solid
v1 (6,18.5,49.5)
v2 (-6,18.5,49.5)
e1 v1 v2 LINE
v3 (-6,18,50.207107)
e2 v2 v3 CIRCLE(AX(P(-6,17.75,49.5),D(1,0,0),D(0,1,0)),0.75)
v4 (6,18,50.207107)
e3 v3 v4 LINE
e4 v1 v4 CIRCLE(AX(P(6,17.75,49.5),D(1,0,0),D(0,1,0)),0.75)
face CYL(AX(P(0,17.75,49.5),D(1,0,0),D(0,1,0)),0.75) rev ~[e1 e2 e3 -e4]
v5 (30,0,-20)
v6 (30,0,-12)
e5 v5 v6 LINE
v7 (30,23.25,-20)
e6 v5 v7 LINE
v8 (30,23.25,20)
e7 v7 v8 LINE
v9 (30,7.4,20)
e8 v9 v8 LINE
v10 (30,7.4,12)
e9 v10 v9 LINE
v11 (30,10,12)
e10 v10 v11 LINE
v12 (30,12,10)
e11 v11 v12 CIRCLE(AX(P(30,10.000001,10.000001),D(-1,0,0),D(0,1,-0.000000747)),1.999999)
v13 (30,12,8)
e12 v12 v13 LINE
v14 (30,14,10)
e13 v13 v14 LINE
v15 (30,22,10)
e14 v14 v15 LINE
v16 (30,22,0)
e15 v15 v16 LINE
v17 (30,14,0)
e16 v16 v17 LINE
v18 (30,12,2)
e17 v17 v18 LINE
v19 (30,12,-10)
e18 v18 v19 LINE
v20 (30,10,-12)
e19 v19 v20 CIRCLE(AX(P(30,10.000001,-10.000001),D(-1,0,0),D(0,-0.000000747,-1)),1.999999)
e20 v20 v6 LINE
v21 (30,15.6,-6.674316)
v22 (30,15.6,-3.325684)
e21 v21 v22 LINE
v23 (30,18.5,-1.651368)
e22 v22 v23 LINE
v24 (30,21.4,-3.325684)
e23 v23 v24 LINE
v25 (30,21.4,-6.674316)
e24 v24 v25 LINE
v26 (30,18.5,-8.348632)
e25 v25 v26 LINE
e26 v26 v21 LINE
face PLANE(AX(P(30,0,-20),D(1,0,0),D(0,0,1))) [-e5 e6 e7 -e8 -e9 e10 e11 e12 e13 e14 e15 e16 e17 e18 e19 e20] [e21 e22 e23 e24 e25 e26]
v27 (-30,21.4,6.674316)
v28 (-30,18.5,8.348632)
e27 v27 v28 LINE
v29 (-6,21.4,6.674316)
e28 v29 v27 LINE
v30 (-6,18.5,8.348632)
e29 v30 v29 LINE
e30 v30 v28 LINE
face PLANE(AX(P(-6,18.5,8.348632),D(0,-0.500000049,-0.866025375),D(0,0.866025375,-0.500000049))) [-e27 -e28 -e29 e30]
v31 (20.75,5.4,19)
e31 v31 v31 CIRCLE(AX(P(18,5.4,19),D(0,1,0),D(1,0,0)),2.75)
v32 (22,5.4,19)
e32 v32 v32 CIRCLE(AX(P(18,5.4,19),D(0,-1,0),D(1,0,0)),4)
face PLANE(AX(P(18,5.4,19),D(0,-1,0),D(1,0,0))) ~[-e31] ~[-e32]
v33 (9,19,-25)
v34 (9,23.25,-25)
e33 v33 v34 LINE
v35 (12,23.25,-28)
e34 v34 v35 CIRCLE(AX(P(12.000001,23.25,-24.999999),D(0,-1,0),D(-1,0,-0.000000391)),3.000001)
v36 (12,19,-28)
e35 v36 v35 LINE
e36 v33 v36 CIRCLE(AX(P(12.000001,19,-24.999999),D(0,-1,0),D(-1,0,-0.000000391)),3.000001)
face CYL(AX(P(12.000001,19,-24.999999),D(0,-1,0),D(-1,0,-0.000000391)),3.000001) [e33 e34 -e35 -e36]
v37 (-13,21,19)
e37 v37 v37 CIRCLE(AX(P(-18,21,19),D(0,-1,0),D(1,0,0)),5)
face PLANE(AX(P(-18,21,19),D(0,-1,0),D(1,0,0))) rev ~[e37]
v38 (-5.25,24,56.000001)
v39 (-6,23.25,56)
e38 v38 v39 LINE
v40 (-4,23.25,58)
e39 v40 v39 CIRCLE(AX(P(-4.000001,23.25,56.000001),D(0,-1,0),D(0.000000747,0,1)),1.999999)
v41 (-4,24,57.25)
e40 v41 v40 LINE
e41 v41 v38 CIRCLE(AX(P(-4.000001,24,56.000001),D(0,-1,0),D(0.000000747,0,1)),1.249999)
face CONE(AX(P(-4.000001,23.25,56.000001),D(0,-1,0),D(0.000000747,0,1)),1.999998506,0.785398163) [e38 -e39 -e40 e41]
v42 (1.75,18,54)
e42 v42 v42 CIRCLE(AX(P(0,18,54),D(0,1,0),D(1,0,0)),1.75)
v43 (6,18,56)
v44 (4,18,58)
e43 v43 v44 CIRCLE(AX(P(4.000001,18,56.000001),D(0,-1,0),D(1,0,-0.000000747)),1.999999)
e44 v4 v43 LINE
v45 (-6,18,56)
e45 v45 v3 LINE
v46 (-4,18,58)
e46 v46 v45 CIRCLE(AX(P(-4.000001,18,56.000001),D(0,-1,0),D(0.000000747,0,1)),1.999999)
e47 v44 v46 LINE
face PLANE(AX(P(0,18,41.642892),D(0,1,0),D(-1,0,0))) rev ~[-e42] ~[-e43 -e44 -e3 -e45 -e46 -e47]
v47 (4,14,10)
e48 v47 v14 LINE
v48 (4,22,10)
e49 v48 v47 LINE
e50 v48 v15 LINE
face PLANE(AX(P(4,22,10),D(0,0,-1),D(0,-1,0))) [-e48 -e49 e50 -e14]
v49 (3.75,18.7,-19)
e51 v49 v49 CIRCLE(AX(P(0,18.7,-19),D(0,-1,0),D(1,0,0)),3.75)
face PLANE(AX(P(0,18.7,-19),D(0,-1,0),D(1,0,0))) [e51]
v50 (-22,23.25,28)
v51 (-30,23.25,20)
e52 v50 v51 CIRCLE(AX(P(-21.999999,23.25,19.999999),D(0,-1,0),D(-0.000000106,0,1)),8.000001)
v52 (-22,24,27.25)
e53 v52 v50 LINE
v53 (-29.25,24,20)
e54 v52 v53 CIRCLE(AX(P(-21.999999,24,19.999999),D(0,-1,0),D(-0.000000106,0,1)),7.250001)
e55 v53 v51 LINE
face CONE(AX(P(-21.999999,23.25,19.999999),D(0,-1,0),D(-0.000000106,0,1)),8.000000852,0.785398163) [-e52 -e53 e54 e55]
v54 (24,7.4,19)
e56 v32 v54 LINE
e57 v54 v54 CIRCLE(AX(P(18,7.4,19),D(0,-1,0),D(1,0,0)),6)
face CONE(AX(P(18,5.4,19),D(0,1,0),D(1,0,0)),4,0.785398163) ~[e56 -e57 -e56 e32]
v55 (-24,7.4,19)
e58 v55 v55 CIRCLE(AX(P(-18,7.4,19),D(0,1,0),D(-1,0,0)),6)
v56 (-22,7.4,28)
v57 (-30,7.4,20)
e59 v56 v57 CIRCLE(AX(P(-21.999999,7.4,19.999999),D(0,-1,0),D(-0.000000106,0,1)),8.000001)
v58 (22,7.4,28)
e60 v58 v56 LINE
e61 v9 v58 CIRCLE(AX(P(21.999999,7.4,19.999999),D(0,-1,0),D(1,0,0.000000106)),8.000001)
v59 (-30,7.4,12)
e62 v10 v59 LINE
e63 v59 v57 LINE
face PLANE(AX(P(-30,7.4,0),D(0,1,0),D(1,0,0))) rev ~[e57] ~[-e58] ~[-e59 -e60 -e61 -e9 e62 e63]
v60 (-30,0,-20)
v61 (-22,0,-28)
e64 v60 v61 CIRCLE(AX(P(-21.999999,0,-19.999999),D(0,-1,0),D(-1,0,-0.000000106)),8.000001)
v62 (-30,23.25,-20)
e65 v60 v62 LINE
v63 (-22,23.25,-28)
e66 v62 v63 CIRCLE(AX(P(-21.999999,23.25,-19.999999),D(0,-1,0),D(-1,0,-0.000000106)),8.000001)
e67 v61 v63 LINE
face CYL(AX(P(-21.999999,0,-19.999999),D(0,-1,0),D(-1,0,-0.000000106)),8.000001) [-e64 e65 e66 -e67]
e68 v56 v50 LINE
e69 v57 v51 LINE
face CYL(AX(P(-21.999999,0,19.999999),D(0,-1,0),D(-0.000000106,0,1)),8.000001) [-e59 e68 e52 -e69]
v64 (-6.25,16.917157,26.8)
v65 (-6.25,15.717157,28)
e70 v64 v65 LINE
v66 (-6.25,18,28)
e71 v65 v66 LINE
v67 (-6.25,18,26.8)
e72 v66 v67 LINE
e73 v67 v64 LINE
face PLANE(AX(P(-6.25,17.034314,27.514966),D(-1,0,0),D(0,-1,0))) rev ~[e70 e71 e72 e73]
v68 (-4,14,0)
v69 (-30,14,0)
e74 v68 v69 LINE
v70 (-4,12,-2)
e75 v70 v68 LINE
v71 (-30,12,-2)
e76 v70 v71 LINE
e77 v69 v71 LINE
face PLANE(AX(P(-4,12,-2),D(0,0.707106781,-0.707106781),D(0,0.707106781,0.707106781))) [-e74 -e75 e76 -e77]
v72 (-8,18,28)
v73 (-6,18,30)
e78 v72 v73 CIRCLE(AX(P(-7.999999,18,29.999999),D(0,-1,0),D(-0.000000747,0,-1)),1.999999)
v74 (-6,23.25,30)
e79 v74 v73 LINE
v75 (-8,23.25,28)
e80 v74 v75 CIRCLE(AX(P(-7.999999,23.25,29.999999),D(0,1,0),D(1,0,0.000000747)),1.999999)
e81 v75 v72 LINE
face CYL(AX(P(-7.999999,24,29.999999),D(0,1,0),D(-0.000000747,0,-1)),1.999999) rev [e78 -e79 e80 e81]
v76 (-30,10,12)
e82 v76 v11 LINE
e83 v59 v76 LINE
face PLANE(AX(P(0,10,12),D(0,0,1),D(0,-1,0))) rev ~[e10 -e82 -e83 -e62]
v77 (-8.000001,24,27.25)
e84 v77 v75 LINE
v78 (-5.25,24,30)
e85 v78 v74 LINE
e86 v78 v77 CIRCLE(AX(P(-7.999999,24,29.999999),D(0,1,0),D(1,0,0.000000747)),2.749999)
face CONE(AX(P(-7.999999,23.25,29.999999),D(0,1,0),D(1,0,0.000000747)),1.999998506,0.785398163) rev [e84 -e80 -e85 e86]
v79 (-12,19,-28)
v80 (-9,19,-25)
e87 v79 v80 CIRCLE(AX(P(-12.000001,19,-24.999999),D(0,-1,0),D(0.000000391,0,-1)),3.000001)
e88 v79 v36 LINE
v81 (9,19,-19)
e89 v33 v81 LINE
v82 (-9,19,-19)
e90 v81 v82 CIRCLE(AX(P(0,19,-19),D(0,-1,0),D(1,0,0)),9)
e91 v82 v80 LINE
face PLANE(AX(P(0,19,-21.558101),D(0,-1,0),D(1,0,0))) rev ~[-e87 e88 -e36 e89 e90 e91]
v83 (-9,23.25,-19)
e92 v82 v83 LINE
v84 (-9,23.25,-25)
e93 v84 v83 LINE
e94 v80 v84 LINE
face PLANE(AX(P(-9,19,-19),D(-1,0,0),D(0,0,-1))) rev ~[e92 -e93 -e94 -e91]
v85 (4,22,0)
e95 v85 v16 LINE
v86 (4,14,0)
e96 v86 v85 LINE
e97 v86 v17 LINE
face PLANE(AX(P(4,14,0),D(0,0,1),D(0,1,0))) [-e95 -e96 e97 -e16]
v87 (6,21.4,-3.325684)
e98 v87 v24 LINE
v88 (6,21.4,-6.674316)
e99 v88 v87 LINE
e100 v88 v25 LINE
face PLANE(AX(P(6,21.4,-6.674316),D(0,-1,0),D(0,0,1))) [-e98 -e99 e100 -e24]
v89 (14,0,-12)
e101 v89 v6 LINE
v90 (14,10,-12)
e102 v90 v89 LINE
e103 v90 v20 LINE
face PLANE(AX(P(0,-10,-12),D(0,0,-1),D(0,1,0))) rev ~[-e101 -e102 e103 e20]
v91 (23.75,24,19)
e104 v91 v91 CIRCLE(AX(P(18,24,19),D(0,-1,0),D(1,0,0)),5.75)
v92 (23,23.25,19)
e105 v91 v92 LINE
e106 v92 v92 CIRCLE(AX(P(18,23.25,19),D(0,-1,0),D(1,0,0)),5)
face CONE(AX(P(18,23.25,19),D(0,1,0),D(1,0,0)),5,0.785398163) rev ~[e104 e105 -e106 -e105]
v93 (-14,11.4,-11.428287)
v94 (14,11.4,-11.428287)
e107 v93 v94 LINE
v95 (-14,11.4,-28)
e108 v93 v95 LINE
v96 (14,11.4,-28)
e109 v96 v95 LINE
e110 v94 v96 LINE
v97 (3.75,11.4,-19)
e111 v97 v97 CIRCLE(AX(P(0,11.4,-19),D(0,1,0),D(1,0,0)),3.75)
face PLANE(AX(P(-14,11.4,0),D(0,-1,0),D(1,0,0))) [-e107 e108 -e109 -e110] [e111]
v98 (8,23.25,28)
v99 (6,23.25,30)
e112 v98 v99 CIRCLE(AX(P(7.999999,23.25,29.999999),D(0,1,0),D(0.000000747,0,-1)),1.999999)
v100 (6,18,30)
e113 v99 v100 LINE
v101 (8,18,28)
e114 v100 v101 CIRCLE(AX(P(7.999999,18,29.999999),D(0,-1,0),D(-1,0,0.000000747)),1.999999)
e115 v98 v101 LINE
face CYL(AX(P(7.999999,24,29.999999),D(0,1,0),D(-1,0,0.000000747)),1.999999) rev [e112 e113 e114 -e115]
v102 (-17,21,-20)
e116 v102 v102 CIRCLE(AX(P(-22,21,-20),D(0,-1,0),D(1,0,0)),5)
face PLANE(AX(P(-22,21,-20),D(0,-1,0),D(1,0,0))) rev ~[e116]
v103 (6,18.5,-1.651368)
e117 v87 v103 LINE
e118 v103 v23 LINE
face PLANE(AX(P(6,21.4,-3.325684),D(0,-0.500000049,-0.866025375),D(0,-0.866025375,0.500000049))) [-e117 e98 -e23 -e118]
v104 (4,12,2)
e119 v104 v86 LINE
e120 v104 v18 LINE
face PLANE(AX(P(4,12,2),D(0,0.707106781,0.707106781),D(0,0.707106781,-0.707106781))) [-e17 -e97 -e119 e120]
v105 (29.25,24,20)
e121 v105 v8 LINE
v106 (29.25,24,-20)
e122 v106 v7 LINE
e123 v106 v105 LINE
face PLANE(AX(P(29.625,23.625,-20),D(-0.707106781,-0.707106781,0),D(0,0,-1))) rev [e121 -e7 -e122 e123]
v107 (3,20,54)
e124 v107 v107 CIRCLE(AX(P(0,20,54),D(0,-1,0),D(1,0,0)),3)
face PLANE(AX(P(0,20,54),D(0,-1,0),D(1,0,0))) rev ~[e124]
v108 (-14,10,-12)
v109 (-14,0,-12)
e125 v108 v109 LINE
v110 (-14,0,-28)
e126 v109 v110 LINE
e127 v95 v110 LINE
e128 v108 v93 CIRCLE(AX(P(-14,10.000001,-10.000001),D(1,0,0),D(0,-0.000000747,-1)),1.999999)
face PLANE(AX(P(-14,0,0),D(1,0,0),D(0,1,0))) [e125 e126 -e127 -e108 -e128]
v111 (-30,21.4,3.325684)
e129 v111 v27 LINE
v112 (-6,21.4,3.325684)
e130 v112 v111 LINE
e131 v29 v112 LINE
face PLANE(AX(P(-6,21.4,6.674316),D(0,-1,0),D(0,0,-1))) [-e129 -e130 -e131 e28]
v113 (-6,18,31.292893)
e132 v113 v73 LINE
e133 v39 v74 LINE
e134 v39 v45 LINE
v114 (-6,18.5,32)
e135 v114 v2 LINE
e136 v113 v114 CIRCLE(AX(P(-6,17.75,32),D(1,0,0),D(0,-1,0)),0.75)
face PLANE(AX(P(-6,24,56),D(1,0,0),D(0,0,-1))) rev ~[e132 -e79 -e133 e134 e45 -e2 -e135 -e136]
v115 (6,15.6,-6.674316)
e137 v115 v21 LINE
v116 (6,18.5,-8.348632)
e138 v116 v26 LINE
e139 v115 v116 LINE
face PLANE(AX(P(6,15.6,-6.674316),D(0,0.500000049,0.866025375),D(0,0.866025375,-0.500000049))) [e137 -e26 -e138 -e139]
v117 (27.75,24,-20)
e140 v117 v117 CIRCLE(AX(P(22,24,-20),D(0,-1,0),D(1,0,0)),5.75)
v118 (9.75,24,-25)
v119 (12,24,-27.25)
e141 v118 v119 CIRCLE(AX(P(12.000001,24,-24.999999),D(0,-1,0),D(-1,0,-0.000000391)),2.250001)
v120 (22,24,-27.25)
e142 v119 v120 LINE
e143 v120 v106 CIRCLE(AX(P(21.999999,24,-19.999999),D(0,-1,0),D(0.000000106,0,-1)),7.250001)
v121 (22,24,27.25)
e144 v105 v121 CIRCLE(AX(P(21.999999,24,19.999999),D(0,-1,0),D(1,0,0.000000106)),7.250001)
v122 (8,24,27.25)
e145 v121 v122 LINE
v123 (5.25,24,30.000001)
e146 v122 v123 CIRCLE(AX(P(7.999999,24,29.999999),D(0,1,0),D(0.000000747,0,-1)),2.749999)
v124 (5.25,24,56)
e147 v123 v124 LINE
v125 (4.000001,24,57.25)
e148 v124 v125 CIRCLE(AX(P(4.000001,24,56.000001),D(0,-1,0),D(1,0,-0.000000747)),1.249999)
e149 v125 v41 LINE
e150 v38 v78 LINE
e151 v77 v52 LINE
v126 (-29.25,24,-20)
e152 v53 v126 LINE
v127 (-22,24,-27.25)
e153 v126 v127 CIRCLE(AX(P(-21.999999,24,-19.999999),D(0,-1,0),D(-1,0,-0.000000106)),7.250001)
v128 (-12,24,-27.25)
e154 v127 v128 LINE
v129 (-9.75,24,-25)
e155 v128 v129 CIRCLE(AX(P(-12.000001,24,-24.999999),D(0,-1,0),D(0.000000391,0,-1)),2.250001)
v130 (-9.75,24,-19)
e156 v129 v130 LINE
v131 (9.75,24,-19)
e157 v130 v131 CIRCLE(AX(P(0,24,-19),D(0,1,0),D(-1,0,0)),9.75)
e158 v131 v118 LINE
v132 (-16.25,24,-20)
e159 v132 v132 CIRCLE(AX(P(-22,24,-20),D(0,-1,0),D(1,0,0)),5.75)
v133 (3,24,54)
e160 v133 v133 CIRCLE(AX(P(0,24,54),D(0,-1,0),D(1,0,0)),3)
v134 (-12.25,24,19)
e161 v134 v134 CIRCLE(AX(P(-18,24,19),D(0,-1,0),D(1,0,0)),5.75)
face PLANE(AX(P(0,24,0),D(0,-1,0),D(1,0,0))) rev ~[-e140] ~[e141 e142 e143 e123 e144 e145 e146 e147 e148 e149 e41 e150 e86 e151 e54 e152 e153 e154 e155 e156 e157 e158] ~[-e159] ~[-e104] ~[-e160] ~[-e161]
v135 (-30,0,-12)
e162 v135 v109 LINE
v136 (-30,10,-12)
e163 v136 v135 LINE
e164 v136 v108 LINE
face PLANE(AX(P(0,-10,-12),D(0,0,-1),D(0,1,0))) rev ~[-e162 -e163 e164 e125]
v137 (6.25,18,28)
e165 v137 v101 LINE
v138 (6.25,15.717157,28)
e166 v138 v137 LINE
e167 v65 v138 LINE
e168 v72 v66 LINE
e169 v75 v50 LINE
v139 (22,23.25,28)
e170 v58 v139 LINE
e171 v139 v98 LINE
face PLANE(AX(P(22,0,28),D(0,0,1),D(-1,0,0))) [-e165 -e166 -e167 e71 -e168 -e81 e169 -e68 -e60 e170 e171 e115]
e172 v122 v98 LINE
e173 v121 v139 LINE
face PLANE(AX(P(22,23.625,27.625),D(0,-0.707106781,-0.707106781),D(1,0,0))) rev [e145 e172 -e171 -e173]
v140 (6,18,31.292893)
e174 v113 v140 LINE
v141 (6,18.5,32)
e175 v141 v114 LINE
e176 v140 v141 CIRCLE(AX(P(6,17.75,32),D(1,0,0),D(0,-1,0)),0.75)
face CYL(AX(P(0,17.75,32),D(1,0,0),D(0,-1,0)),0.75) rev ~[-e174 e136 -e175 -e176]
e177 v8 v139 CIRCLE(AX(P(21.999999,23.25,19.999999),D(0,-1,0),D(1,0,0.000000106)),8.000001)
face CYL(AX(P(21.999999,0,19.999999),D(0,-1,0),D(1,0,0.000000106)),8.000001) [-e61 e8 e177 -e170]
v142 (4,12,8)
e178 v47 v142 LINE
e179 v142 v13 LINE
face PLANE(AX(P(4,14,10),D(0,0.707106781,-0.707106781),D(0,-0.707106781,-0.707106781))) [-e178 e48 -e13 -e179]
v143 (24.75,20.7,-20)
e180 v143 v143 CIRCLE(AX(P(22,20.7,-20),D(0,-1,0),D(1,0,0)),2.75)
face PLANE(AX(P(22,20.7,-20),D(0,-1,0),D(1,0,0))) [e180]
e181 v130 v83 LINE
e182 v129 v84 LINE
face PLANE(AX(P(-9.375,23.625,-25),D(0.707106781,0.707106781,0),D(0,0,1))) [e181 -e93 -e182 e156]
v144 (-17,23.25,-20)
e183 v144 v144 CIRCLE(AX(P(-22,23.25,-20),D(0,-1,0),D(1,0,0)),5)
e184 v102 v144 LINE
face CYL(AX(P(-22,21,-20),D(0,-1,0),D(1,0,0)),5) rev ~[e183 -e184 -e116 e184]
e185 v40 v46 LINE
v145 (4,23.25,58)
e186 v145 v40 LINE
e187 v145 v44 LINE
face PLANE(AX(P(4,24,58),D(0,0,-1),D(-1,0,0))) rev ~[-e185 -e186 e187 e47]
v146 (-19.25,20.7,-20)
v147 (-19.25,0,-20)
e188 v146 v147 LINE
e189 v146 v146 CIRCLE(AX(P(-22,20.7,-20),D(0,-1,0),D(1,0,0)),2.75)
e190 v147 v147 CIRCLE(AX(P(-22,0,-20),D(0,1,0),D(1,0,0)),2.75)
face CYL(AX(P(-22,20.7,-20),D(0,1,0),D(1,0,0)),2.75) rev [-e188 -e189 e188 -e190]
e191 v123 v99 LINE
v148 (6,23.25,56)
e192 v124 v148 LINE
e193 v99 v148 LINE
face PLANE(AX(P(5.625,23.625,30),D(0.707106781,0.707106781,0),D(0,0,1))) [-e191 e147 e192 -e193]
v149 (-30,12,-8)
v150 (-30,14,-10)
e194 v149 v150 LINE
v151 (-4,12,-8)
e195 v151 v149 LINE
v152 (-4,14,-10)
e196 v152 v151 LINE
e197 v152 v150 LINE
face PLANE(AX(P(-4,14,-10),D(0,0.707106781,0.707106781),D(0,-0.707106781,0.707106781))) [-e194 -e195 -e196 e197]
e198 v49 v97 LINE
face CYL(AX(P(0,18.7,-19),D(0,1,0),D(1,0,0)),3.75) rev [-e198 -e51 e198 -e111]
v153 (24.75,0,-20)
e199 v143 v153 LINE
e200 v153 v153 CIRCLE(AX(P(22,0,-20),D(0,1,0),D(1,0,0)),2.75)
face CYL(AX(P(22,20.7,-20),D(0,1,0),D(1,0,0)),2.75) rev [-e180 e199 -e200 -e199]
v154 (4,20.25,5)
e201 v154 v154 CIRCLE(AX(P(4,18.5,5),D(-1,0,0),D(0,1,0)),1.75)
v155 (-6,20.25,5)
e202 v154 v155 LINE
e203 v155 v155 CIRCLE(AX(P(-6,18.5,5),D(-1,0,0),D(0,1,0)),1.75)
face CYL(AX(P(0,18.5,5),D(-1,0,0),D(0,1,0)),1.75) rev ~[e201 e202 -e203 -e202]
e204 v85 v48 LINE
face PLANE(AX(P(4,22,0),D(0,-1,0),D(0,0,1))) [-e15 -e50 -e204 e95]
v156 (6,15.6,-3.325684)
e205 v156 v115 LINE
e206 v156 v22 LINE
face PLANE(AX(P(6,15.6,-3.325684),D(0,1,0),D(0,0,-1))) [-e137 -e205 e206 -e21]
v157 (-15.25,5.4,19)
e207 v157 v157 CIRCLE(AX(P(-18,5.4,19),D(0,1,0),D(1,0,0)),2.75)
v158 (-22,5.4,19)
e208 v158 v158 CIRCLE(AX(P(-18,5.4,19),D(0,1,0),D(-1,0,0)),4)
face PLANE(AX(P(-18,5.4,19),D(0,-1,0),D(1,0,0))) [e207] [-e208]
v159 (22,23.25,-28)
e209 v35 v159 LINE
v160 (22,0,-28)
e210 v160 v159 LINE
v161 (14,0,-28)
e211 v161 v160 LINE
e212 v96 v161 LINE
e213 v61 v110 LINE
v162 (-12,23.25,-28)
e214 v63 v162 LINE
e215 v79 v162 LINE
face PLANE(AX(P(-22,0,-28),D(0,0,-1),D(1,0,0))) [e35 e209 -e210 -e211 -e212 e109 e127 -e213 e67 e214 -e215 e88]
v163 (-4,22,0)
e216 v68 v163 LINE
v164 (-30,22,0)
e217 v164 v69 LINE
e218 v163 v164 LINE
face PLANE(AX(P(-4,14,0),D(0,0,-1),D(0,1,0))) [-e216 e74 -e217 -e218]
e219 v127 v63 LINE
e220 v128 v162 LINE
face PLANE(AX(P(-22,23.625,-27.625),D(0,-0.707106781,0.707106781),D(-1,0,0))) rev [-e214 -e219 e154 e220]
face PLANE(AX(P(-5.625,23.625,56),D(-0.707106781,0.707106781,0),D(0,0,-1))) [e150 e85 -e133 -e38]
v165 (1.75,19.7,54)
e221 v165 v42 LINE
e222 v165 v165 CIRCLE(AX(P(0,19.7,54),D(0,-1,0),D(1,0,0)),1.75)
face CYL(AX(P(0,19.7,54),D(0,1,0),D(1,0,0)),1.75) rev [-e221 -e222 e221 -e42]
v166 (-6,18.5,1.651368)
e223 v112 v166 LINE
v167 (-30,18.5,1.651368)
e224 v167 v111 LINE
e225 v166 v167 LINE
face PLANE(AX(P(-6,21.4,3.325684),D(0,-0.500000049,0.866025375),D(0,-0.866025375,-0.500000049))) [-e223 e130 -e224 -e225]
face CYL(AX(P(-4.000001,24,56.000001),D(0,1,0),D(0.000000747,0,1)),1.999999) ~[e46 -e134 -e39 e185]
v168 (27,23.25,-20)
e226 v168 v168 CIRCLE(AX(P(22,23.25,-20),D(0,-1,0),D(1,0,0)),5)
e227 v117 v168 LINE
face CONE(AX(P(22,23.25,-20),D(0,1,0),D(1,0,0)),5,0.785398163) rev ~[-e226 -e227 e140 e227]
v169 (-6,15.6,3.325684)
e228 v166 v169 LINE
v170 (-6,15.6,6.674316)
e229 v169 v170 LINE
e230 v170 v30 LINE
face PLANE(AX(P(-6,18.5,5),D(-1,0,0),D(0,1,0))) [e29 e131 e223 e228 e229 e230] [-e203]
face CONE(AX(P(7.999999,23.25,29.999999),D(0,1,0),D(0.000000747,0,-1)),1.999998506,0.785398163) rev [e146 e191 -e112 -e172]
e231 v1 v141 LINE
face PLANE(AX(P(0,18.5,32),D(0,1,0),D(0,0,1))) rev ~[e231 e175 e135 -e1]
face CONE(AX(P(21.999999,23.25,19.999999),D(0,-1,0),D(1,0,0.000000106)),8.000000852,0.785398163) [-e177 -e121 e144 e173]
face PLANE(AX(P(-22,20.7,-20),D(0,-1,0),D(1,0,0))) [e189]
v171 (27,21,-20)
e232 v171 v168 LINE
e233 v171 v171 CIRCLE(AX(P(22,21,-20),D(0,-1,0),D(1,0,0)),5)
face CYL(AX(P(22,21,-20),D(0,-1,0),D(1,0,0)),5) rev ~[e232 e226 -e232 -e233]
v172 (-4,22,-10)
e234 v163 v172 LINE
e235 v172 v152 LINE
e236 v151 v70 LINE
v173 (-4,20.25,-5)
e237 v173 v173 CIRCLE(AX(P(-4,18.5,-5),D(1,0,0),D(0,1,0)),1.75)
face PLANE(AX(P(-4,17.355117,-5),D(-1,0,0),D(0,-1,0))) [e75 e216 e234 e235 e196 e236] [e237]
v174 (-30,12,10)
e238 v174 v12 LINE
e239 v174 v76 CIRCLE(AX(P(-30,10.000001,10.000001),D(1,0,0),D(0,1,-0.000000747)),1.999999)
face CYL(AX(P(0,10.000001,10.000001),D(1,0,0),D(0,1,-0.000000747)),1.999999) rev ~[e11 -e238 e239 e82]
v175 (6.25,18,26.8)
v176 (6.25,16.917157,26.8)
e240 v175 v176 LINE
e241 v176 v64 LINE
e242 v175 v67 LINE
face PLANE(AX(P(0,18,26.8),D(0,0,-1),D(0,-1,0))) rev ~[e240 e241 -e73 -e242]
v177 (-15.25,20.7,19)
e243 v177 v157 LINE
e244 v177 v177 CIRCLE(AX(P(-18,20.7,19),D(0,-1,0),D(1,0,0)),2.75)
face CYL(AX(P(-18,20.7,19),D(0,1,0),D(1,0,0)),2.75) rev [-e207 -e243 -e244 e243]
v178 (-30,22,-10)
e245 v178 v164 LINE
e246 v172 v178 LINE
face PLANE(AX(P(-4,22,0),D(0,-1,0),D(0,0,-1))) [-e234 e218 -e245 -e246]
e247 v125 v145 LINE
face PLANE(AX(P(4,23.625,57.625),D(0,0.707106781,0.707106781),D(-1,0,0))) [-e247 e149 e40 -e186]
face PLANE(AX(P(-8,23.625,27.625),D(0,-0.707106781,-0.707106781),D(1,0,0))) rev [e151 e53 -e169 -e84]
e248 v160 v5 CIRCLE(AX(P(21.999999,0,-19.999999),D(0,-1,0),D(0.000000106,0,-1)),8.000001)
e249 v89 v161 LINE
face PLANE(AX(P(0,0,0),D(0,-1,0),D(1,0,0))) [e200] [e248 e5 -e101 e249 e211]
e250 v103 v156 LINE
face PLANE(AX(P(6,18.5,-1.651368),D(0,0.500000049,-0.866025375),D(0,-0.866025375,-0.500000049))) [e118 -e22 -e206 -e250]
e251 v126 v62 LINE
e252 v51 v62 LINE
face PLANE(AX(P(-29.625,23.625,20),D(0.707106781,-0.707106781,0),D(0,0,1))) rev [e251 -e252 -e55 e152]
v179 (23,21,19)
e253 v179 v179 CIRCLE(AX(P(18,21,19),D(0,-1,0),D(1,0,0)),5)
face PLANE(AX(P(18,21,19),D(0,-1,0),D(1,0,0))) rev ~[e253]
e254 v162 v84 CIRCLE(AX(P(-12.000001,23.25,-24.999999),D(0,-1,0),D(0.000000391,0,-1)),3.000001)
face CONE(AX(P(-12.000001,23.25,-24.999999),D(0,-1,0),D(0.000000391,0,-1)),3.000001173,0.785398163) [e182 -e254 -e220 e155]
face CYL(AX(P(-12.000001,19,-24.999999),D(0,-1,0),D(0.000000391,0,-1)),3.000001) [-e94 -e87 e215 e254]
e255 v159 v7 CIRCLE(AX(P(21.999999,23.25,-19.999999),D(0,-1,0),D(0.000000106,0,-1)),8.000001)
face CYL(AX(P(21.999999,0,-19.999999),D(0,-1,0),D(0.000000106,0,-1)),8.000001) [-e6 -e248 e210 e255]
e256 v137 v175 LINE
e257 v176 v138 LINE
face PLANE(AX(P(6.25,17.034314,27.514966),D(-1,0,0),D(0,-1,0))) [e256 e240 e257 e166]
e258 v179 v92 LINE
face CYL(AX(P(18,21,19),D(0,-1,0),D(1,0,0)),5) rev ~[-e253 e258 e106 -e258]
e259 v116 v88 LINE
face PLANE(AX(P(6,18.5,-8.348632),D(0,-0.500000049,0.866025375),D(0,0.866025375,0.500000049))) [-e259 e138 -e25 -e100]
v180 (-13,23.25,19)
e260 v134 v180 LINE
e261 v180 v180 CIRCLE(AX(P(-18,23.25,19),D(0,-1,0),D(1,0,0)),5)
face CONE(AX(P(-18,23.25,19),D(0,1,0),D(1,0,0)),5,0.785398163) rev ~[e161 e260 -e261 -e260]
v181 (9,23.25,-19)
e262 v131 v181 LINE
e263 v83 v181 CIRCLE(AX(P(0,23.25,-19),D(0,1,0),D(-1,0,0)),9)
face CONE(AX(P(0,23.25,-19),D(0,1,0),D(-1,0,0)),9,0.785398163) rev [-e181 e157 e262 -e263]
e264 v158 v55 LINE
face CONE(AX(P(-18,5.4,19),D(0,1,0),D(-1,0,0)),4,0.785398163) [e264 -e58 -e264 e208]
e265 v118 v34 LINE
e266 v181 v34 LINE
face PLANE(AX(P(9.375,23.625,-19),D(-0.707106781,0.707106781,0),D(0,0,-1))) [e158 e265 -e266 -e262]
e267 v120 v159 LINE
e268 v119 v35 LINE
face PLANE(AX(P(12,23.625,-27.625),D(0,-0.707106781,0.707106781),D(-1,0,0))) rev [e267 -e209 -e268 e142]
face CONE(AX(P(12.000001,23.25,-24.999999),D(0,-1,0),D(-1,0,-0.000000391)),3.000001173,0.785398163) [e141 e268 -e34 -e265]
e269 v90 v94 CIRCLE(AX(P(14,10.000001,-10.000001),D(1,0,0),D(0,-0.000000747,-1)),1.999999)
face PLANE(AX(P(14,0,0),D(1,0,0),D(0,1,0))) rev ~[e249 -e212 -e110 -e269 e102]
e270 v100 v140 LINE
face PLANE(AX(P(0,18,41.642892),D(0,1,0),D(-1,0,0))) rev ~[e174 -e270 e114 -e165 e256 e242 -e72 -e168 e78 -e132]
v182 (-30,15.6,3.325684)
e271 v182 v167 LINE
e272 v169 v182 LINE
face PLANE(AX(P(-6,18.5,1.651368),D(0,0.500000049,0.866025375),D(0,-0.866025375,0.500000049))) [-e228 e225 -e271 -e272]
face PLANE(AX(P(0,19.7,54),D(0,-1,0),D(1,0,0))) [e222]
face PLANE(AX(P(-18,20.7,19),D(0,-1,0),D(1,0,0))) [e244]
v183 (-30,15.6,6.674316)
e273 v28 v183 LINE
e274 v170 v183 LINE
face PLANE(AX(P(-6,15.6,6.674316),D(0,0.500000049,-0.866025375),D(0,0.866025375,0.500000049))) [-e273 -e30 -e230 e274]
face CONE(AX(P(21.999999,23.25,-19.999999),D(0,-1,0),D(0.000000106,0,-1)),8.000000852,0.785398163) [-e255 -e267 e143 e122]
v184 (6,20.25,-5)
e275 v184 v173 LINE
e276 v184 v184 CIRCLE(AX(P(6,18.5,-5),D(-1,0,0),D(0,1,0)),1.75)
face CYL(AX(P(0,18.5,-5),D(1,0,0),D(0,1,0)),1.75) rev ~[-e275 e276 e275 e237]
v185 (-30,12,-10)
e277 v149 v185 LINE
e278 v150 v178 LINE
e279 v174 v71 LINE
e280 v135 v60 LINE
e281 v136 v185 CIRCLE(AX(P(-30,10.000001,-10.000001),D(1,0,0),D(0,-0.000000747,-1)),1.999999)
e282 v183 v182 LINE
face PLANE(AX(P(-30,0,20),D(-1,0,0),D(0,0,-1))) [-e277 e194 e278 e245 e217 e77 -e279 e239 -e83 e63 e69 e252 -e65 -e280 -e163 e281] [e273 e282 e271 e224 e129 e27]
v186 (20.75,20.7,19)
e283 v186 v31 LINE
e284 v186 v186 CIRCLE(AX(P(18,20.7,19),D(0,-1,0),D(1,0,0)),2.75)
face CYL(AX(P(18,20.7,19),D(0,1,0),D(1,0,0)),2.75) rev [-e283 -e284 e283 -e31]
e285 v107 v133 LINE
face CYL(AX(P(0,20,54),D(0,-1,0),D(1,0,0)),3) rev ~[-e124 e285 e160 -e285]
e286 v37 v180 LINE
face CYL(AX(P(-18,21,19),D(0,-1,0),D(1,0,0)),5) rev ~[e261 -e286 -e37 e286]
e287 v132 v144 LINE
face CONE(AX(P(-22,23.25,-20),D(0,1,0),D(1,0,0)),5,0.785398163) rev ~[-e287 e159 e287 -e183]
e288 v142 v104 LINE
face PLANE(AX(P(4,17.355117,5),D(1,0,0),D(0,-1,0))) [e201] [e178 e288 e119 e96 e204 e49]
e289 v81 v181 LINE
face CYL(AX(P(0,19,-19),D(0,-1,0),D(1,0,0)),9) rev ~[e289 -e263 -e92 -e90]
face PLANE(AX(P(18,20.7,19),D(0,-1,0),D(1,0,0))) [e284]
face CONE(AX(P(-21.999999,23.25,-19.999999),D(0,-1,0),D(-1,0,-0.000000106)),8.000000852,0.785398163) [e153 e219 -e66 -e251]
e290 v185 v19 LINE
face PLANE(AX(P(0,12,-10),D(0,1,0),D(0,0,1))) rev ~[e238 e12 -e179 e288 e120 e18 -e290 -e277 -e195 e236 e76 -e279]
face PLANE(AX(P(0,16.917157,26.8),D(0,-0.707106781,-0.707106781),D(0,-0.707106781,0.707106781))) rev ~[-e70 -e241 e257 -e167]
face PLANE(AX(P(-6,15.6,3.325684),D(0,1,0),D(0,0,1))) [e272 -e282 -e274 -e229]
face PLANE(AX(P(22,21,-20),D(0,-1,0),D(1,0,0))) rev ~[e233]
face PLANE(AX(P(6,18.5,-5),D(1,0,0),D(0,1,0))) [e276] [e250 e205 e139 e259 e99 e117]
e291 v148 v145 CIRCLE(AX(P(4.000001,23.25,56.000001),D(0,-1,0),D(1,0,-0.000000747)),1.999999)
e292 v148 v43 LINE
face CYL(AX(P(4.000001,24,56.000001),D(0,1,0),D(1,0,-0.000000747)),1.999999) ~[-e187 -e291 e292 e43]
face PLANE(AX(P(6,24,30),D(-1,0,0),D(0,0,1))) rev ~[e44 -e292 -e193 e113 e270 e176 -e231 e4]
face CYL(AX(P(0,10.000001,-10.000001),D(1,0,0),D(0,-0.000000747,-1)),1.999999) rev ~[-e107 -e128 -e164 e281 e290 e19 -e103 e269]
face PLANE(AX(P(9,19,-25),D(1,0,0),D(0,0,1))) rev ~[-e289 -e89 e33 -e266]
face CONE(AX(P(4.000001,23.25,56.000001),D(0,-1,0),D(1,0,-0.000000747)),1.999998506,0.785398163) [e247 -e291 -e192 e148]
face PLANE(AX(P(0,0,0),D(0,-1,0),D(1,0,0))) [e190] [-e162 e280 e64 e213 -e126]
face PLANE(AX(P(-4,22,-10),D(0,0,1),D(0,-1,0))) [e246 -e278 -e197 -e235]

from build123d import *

# Parameters (mm, degrees)
PAD025_DEPTH          = 24
POCKET273_DEPTH       = 30.001
POCKET273_DEPTH_BACK  = 30.001
SKETCH402_W           = 28
SKETCH402_H           = 11.4
POCKET274_DEPTH       = 28.001
SKETCH404_W           = 60
SKETCH404_H           = 7.4
POCKET275_DEPTH       = 28.001
SKETCH405_R           = 2.75
POCKET276_DEPTH       = 20.701
SKETCH406_R           = 5
POCKET277_DEPTH       = 3.001
POCKET278_DEPTH       = 5.001
SKETCH408_R           = 3.75
POCKET279_DEPTH       = 18.701
POCKET280_DEPTH       = 197.021467
SKETCH410_R           = 1.75
POCKET281_DEPTH       = 201.021467
POCKET281_DEPTH_BACK  = 201.021467
POCKET282_DEPTH       = 195.021467
POLARPATTERN003_COUNT = 2
PAD026_DEPTH          = 6
POCKET283_DEPTH       = 6.25
SKETCH414_R           = 1.75
POCKET284_DEPTH       = 19.701
SKETCH415_R           = 3
POCKET285_DEPTH       = 4.001
CHAMFER024_SIZE       = 0.75


with BuildPart() as part:
    # Sketch400 → Pad025 (new body)
    with BuildSketch(Plane.XZ):
        with BuildLine():
            Line((-30, 20), (-30, -20))
            ThreePointArc((-30, -20), (-27.656854, -25.656854), (-22, -28))
            Line((-22, -28), (22, -28))
            ThreePointArc((22, -28), (27.656854, -25.656854), (30, -20))
            Line((30, -20), (30, 20))
            ThreePointArc((30, 20), (27.656854, 25.656854), (22, 28))
            Line((22, 28), (-22, 28))
            ThreePointArc((-22, 28), (-27.656854, 25.656854), (-30, 20))
        make_face()
    extrude(amount=-PAD025_DEPTH)

    # Sketch401 → Pocket273 (cut, two sides)
    with BuildSketch(Plane.YZ) as pocket273_sk:
        with BuildLine():
            Line((-12, 10), (-12, -10))
            ThreePointArc((-12, -10), (-11.414214, -11.414214), (-10, -12))
            Line((-10, -12), (10, -12))
            ThreePointArc((10, -12), (11.414214, -11.414214), (12, -10))
            Line((12, -10), (12, 10))
            ThreePointArc((12, 10), (11.414214, 11.414214), (10, 12))
            Line((10, 12), (-10, 12))
            ThreePointArc((-10, 12), (-11.414214, 11.414214), (-12, 10))
        make_face()
    extrude(amount=-POCKET273_DEPTH, mode=Mode.SUBTRACT)
    extrude(pocket273_sk.sketch, amount=POCKET273_DEPTH_BACK, mode=Mode.SUBTRACT)

    # Sketch402 → Pocket274 (cut, through all)
    with BuildSketch(Plane.XY):
        with Locations((0, 5.7)):
            Rectangle(SKETCH402_W, SKETCH402_H)
    extrude(amount=-POCKET274_DEPTH, mode=Mode.SUBTRACT)

    # Sketch404 → Pocket275 (cut, through all)
    with BuildSketch(Plane.XY):
        with Locations((0, 3.7)):
            Rectangle(SKETCH404_W, SKETCH404_H)
    extrude(amount=POCKET275_DEPTH, mode=Mode.SUBTRACT)

    # Sketch403 → Revolution012 (revolve)
    with BuildSketch(Plane.XY.offset(19)):
        Polygon((18, 7.4), (18, 5.4), (22, 5.4), (24, 7.4), align=None)
    revolution012 = revolve(axis=Axis((18, 7.4, 19), (0, -1, 0)))

    # Mirrored020: Revolution012 across YZ
    add(revolution012.mirror(Plane.YZ))

    # Sketch405 → Pocket276 (cut, through all)
    with BuildSketch(Plane.XZ.offset(-20.7)):
        with Locations((-18, 19)):
            Circle(SKETCH405_R)
        with Locations((18, 19)):
            Circle(SKETCH405_R)
        with Locations((-22, -20)):
            Circle(SKETCH405_R)
        with Locations((22, -20)):
            Circle(SKETCH405_R)
    extrude(amount=POCKET276_DEPTH, mode=Mode.SUBTRACT)

    # Sketch406 → Pocket277 (cut, through all)
    with BuildSketch(Plane.XZ.offset(-21)):
        with Locations((-18, 19)):
            Circle(SKETCH406_R)
        with Locations((18, 19)):
            Circle(SKETCH406_R)
        with Locations((-22, -20)):
            Circle(SKETCH406_R)
        with Locations((22, -20)):
            Circle(SKETCH406_R)
    extrude(amount=-POCKET277_DEPTH, mode=Mode.SUBTRACT)

    # Sketch407 → Pocket278 (cut, through all)
    with BuildSketch(Plane.XZ.offset(-19)):
        with BuildLine():
            ThreePointArc((9, -19), (0, -10), (-9, -19))
            Line((-9, -19), (-9, -25))
            ThreePointArc((-12, -28), (-9.87868, -27.12132), (-9, -25))
            Line((-12, -28), (12, -28))
            ThreePointArc((9, -25), (9.87868, -27.12132), (12, -28))
            Line((9, -25), (9, -19))
        make_face()
    extrude(amount=-POCKET278_DEPTH, mode=Mode.SUBTRACT)

    # Sketch408 → Pocket279 (cut, through all)
    with BuildSketch(Plane.XZ.offset(-18.7)):
        with Locations((0, -19)):
            Circle(SKETCH408_R)
    extrude(amount=POCKET279_DEPTH, mode=Mode.SUBTRACT)

    # Sketch409 → Pocket280 (cut, through all)
    with BuildSketch(Plane.YZ.offset(-4)):
        Polygon((14, 0), (22, 0), (22, -10), (14, -10), (12, -8), (12, -2), align=None)
    pocket280 = extrude(amount=-POCKET280_DEPTH, mode=Mode.SUBTRACT)

    # Sketch410 → Pocket281 (cut, two sides)
    with BuildSketch(Plane.YZ) as pocket281_sk:
        with Locations((18.5, -5)):
            Circle(SKETCH410_R)
    pocket281 = extrude(amount=-POCKET281_DEPTH, mode=Mode.SUBTRACT) + extrude(pocket281_sk.sketch, amount=POCKET281_DEPTH_BACK, mode=Mode.SUBTRACT)

    # Sketch411 → Pocket282 (cut, through all)
    with BuildSketch(Plane.YZ.offset(6)):
        Polygon((21.4, -6.674316), (21.4, -3.325684), (18.5, -1.651368), (15.6, -3.325684), (15.6, -6.674316), (18.5, -8.348632), align=None)
    pocket282 = extrude(amount=POCKET282_DEPTH, mode=Mode.SUBTRACT)

    # PolarPattern003: Pocket282, Pocket280, Pocket281 ×2 about axis
    polarpattern003_axis = Axis((0, 0, 0), (0, 1, 0))
    for i in range(1, POLARPATTERN003_COUNT):
        add(pocket282.rotate(polarpattern003_axis, i * 360 / POLARPATTERN003_COUNT), mode=Mode.SUBTRACT)
        add(pocket280.rotate(polarpattern003_axis, i * 360 / POLARPATTERN003_COUNT), mode=Mode.SUBTRACT)
        add(pocket281.rotate(polarpattern003_axis, i * 360 / POLARPATTERN003_COUNT), mode=Mode.SUBTRACT)

    # Sketch412 → Pad026 (join)
    with BuildSketch(Plane.XZ.offset(-24)):
        with BuildLine():
            ThreePointArc((6, 30), (6.585786, 28.585786), (8, 28))
            Line((-8, 28), (8, 28))
            ThreePointArc((-8, 28), (-6.585786, 28.585786), (-6, 30))
            Line((-6, 56), (-6, 30))
            ThreePointArc((-4, 58), (-5.414214, 57.414214), (-6, 56))
            Line((4, 58), (-4, 58))
            ThreePointArc((6, 56), (5.414214, 57.414214), (4, 58))
            Line((6, 30), (6, 56))
        make_face()
    extrude(amount=PAD026_DEPTH)

    # Sketch413 → Pocket283 (cut, symmetric)
    with BuildSketch(Plane.YZ):
        Polygon((18, 28), (18, 26.8), (16.917157, 26.8), (15.717157, 28), align=None)
        with BuildLine():
            ThreePointArc((18.5, 49.5), (17.75, 50.25), (17, 49.5))
            Line((17, 49.5), (17, 32))
            ThreePointArc((17, 32), (17.75, 31.25), (18.5, 32))
            Line((18.5, 32), (18.5, 49.5))
        make_face()
    extrude(amount=POCKET283_DEPTH, both=True, mode=Mode.SUBTRACT)

    # Sketch414 → Pocket284 (cut, through all)
    with BuildSketch(Plane.XZ.offset(-19.7)):
        with Locations((0, 54)):
            Circle(SKETCH414_R)
    extrude(amount=POCKET284_DEPTH, mode=Mode.SUBTRACT)

    # Sketch415 → Pocket285 (cut, through all)
    with BuildSketch(Plane.XZ.offset(-20)):
        with Locations((0, 54)):
            Circle(SKETCH415_R)
    extrude(amount=-POCKET285_DEPTH, mode=Mode.SUBTRACT)

    # Chamfer024
    chamfer024_edges = [part.edges().sort_by_distance(p)[0] for p in [
        (30, 24, 0),
        (13, 24, 19),
        (17, 24, -20),
        (-27, 24, -20),
        (-23, 24, 19),
    ]]
    chamfer(chamfer024_edges, length=CHAMFER024_SIZE)


solid = part.part
